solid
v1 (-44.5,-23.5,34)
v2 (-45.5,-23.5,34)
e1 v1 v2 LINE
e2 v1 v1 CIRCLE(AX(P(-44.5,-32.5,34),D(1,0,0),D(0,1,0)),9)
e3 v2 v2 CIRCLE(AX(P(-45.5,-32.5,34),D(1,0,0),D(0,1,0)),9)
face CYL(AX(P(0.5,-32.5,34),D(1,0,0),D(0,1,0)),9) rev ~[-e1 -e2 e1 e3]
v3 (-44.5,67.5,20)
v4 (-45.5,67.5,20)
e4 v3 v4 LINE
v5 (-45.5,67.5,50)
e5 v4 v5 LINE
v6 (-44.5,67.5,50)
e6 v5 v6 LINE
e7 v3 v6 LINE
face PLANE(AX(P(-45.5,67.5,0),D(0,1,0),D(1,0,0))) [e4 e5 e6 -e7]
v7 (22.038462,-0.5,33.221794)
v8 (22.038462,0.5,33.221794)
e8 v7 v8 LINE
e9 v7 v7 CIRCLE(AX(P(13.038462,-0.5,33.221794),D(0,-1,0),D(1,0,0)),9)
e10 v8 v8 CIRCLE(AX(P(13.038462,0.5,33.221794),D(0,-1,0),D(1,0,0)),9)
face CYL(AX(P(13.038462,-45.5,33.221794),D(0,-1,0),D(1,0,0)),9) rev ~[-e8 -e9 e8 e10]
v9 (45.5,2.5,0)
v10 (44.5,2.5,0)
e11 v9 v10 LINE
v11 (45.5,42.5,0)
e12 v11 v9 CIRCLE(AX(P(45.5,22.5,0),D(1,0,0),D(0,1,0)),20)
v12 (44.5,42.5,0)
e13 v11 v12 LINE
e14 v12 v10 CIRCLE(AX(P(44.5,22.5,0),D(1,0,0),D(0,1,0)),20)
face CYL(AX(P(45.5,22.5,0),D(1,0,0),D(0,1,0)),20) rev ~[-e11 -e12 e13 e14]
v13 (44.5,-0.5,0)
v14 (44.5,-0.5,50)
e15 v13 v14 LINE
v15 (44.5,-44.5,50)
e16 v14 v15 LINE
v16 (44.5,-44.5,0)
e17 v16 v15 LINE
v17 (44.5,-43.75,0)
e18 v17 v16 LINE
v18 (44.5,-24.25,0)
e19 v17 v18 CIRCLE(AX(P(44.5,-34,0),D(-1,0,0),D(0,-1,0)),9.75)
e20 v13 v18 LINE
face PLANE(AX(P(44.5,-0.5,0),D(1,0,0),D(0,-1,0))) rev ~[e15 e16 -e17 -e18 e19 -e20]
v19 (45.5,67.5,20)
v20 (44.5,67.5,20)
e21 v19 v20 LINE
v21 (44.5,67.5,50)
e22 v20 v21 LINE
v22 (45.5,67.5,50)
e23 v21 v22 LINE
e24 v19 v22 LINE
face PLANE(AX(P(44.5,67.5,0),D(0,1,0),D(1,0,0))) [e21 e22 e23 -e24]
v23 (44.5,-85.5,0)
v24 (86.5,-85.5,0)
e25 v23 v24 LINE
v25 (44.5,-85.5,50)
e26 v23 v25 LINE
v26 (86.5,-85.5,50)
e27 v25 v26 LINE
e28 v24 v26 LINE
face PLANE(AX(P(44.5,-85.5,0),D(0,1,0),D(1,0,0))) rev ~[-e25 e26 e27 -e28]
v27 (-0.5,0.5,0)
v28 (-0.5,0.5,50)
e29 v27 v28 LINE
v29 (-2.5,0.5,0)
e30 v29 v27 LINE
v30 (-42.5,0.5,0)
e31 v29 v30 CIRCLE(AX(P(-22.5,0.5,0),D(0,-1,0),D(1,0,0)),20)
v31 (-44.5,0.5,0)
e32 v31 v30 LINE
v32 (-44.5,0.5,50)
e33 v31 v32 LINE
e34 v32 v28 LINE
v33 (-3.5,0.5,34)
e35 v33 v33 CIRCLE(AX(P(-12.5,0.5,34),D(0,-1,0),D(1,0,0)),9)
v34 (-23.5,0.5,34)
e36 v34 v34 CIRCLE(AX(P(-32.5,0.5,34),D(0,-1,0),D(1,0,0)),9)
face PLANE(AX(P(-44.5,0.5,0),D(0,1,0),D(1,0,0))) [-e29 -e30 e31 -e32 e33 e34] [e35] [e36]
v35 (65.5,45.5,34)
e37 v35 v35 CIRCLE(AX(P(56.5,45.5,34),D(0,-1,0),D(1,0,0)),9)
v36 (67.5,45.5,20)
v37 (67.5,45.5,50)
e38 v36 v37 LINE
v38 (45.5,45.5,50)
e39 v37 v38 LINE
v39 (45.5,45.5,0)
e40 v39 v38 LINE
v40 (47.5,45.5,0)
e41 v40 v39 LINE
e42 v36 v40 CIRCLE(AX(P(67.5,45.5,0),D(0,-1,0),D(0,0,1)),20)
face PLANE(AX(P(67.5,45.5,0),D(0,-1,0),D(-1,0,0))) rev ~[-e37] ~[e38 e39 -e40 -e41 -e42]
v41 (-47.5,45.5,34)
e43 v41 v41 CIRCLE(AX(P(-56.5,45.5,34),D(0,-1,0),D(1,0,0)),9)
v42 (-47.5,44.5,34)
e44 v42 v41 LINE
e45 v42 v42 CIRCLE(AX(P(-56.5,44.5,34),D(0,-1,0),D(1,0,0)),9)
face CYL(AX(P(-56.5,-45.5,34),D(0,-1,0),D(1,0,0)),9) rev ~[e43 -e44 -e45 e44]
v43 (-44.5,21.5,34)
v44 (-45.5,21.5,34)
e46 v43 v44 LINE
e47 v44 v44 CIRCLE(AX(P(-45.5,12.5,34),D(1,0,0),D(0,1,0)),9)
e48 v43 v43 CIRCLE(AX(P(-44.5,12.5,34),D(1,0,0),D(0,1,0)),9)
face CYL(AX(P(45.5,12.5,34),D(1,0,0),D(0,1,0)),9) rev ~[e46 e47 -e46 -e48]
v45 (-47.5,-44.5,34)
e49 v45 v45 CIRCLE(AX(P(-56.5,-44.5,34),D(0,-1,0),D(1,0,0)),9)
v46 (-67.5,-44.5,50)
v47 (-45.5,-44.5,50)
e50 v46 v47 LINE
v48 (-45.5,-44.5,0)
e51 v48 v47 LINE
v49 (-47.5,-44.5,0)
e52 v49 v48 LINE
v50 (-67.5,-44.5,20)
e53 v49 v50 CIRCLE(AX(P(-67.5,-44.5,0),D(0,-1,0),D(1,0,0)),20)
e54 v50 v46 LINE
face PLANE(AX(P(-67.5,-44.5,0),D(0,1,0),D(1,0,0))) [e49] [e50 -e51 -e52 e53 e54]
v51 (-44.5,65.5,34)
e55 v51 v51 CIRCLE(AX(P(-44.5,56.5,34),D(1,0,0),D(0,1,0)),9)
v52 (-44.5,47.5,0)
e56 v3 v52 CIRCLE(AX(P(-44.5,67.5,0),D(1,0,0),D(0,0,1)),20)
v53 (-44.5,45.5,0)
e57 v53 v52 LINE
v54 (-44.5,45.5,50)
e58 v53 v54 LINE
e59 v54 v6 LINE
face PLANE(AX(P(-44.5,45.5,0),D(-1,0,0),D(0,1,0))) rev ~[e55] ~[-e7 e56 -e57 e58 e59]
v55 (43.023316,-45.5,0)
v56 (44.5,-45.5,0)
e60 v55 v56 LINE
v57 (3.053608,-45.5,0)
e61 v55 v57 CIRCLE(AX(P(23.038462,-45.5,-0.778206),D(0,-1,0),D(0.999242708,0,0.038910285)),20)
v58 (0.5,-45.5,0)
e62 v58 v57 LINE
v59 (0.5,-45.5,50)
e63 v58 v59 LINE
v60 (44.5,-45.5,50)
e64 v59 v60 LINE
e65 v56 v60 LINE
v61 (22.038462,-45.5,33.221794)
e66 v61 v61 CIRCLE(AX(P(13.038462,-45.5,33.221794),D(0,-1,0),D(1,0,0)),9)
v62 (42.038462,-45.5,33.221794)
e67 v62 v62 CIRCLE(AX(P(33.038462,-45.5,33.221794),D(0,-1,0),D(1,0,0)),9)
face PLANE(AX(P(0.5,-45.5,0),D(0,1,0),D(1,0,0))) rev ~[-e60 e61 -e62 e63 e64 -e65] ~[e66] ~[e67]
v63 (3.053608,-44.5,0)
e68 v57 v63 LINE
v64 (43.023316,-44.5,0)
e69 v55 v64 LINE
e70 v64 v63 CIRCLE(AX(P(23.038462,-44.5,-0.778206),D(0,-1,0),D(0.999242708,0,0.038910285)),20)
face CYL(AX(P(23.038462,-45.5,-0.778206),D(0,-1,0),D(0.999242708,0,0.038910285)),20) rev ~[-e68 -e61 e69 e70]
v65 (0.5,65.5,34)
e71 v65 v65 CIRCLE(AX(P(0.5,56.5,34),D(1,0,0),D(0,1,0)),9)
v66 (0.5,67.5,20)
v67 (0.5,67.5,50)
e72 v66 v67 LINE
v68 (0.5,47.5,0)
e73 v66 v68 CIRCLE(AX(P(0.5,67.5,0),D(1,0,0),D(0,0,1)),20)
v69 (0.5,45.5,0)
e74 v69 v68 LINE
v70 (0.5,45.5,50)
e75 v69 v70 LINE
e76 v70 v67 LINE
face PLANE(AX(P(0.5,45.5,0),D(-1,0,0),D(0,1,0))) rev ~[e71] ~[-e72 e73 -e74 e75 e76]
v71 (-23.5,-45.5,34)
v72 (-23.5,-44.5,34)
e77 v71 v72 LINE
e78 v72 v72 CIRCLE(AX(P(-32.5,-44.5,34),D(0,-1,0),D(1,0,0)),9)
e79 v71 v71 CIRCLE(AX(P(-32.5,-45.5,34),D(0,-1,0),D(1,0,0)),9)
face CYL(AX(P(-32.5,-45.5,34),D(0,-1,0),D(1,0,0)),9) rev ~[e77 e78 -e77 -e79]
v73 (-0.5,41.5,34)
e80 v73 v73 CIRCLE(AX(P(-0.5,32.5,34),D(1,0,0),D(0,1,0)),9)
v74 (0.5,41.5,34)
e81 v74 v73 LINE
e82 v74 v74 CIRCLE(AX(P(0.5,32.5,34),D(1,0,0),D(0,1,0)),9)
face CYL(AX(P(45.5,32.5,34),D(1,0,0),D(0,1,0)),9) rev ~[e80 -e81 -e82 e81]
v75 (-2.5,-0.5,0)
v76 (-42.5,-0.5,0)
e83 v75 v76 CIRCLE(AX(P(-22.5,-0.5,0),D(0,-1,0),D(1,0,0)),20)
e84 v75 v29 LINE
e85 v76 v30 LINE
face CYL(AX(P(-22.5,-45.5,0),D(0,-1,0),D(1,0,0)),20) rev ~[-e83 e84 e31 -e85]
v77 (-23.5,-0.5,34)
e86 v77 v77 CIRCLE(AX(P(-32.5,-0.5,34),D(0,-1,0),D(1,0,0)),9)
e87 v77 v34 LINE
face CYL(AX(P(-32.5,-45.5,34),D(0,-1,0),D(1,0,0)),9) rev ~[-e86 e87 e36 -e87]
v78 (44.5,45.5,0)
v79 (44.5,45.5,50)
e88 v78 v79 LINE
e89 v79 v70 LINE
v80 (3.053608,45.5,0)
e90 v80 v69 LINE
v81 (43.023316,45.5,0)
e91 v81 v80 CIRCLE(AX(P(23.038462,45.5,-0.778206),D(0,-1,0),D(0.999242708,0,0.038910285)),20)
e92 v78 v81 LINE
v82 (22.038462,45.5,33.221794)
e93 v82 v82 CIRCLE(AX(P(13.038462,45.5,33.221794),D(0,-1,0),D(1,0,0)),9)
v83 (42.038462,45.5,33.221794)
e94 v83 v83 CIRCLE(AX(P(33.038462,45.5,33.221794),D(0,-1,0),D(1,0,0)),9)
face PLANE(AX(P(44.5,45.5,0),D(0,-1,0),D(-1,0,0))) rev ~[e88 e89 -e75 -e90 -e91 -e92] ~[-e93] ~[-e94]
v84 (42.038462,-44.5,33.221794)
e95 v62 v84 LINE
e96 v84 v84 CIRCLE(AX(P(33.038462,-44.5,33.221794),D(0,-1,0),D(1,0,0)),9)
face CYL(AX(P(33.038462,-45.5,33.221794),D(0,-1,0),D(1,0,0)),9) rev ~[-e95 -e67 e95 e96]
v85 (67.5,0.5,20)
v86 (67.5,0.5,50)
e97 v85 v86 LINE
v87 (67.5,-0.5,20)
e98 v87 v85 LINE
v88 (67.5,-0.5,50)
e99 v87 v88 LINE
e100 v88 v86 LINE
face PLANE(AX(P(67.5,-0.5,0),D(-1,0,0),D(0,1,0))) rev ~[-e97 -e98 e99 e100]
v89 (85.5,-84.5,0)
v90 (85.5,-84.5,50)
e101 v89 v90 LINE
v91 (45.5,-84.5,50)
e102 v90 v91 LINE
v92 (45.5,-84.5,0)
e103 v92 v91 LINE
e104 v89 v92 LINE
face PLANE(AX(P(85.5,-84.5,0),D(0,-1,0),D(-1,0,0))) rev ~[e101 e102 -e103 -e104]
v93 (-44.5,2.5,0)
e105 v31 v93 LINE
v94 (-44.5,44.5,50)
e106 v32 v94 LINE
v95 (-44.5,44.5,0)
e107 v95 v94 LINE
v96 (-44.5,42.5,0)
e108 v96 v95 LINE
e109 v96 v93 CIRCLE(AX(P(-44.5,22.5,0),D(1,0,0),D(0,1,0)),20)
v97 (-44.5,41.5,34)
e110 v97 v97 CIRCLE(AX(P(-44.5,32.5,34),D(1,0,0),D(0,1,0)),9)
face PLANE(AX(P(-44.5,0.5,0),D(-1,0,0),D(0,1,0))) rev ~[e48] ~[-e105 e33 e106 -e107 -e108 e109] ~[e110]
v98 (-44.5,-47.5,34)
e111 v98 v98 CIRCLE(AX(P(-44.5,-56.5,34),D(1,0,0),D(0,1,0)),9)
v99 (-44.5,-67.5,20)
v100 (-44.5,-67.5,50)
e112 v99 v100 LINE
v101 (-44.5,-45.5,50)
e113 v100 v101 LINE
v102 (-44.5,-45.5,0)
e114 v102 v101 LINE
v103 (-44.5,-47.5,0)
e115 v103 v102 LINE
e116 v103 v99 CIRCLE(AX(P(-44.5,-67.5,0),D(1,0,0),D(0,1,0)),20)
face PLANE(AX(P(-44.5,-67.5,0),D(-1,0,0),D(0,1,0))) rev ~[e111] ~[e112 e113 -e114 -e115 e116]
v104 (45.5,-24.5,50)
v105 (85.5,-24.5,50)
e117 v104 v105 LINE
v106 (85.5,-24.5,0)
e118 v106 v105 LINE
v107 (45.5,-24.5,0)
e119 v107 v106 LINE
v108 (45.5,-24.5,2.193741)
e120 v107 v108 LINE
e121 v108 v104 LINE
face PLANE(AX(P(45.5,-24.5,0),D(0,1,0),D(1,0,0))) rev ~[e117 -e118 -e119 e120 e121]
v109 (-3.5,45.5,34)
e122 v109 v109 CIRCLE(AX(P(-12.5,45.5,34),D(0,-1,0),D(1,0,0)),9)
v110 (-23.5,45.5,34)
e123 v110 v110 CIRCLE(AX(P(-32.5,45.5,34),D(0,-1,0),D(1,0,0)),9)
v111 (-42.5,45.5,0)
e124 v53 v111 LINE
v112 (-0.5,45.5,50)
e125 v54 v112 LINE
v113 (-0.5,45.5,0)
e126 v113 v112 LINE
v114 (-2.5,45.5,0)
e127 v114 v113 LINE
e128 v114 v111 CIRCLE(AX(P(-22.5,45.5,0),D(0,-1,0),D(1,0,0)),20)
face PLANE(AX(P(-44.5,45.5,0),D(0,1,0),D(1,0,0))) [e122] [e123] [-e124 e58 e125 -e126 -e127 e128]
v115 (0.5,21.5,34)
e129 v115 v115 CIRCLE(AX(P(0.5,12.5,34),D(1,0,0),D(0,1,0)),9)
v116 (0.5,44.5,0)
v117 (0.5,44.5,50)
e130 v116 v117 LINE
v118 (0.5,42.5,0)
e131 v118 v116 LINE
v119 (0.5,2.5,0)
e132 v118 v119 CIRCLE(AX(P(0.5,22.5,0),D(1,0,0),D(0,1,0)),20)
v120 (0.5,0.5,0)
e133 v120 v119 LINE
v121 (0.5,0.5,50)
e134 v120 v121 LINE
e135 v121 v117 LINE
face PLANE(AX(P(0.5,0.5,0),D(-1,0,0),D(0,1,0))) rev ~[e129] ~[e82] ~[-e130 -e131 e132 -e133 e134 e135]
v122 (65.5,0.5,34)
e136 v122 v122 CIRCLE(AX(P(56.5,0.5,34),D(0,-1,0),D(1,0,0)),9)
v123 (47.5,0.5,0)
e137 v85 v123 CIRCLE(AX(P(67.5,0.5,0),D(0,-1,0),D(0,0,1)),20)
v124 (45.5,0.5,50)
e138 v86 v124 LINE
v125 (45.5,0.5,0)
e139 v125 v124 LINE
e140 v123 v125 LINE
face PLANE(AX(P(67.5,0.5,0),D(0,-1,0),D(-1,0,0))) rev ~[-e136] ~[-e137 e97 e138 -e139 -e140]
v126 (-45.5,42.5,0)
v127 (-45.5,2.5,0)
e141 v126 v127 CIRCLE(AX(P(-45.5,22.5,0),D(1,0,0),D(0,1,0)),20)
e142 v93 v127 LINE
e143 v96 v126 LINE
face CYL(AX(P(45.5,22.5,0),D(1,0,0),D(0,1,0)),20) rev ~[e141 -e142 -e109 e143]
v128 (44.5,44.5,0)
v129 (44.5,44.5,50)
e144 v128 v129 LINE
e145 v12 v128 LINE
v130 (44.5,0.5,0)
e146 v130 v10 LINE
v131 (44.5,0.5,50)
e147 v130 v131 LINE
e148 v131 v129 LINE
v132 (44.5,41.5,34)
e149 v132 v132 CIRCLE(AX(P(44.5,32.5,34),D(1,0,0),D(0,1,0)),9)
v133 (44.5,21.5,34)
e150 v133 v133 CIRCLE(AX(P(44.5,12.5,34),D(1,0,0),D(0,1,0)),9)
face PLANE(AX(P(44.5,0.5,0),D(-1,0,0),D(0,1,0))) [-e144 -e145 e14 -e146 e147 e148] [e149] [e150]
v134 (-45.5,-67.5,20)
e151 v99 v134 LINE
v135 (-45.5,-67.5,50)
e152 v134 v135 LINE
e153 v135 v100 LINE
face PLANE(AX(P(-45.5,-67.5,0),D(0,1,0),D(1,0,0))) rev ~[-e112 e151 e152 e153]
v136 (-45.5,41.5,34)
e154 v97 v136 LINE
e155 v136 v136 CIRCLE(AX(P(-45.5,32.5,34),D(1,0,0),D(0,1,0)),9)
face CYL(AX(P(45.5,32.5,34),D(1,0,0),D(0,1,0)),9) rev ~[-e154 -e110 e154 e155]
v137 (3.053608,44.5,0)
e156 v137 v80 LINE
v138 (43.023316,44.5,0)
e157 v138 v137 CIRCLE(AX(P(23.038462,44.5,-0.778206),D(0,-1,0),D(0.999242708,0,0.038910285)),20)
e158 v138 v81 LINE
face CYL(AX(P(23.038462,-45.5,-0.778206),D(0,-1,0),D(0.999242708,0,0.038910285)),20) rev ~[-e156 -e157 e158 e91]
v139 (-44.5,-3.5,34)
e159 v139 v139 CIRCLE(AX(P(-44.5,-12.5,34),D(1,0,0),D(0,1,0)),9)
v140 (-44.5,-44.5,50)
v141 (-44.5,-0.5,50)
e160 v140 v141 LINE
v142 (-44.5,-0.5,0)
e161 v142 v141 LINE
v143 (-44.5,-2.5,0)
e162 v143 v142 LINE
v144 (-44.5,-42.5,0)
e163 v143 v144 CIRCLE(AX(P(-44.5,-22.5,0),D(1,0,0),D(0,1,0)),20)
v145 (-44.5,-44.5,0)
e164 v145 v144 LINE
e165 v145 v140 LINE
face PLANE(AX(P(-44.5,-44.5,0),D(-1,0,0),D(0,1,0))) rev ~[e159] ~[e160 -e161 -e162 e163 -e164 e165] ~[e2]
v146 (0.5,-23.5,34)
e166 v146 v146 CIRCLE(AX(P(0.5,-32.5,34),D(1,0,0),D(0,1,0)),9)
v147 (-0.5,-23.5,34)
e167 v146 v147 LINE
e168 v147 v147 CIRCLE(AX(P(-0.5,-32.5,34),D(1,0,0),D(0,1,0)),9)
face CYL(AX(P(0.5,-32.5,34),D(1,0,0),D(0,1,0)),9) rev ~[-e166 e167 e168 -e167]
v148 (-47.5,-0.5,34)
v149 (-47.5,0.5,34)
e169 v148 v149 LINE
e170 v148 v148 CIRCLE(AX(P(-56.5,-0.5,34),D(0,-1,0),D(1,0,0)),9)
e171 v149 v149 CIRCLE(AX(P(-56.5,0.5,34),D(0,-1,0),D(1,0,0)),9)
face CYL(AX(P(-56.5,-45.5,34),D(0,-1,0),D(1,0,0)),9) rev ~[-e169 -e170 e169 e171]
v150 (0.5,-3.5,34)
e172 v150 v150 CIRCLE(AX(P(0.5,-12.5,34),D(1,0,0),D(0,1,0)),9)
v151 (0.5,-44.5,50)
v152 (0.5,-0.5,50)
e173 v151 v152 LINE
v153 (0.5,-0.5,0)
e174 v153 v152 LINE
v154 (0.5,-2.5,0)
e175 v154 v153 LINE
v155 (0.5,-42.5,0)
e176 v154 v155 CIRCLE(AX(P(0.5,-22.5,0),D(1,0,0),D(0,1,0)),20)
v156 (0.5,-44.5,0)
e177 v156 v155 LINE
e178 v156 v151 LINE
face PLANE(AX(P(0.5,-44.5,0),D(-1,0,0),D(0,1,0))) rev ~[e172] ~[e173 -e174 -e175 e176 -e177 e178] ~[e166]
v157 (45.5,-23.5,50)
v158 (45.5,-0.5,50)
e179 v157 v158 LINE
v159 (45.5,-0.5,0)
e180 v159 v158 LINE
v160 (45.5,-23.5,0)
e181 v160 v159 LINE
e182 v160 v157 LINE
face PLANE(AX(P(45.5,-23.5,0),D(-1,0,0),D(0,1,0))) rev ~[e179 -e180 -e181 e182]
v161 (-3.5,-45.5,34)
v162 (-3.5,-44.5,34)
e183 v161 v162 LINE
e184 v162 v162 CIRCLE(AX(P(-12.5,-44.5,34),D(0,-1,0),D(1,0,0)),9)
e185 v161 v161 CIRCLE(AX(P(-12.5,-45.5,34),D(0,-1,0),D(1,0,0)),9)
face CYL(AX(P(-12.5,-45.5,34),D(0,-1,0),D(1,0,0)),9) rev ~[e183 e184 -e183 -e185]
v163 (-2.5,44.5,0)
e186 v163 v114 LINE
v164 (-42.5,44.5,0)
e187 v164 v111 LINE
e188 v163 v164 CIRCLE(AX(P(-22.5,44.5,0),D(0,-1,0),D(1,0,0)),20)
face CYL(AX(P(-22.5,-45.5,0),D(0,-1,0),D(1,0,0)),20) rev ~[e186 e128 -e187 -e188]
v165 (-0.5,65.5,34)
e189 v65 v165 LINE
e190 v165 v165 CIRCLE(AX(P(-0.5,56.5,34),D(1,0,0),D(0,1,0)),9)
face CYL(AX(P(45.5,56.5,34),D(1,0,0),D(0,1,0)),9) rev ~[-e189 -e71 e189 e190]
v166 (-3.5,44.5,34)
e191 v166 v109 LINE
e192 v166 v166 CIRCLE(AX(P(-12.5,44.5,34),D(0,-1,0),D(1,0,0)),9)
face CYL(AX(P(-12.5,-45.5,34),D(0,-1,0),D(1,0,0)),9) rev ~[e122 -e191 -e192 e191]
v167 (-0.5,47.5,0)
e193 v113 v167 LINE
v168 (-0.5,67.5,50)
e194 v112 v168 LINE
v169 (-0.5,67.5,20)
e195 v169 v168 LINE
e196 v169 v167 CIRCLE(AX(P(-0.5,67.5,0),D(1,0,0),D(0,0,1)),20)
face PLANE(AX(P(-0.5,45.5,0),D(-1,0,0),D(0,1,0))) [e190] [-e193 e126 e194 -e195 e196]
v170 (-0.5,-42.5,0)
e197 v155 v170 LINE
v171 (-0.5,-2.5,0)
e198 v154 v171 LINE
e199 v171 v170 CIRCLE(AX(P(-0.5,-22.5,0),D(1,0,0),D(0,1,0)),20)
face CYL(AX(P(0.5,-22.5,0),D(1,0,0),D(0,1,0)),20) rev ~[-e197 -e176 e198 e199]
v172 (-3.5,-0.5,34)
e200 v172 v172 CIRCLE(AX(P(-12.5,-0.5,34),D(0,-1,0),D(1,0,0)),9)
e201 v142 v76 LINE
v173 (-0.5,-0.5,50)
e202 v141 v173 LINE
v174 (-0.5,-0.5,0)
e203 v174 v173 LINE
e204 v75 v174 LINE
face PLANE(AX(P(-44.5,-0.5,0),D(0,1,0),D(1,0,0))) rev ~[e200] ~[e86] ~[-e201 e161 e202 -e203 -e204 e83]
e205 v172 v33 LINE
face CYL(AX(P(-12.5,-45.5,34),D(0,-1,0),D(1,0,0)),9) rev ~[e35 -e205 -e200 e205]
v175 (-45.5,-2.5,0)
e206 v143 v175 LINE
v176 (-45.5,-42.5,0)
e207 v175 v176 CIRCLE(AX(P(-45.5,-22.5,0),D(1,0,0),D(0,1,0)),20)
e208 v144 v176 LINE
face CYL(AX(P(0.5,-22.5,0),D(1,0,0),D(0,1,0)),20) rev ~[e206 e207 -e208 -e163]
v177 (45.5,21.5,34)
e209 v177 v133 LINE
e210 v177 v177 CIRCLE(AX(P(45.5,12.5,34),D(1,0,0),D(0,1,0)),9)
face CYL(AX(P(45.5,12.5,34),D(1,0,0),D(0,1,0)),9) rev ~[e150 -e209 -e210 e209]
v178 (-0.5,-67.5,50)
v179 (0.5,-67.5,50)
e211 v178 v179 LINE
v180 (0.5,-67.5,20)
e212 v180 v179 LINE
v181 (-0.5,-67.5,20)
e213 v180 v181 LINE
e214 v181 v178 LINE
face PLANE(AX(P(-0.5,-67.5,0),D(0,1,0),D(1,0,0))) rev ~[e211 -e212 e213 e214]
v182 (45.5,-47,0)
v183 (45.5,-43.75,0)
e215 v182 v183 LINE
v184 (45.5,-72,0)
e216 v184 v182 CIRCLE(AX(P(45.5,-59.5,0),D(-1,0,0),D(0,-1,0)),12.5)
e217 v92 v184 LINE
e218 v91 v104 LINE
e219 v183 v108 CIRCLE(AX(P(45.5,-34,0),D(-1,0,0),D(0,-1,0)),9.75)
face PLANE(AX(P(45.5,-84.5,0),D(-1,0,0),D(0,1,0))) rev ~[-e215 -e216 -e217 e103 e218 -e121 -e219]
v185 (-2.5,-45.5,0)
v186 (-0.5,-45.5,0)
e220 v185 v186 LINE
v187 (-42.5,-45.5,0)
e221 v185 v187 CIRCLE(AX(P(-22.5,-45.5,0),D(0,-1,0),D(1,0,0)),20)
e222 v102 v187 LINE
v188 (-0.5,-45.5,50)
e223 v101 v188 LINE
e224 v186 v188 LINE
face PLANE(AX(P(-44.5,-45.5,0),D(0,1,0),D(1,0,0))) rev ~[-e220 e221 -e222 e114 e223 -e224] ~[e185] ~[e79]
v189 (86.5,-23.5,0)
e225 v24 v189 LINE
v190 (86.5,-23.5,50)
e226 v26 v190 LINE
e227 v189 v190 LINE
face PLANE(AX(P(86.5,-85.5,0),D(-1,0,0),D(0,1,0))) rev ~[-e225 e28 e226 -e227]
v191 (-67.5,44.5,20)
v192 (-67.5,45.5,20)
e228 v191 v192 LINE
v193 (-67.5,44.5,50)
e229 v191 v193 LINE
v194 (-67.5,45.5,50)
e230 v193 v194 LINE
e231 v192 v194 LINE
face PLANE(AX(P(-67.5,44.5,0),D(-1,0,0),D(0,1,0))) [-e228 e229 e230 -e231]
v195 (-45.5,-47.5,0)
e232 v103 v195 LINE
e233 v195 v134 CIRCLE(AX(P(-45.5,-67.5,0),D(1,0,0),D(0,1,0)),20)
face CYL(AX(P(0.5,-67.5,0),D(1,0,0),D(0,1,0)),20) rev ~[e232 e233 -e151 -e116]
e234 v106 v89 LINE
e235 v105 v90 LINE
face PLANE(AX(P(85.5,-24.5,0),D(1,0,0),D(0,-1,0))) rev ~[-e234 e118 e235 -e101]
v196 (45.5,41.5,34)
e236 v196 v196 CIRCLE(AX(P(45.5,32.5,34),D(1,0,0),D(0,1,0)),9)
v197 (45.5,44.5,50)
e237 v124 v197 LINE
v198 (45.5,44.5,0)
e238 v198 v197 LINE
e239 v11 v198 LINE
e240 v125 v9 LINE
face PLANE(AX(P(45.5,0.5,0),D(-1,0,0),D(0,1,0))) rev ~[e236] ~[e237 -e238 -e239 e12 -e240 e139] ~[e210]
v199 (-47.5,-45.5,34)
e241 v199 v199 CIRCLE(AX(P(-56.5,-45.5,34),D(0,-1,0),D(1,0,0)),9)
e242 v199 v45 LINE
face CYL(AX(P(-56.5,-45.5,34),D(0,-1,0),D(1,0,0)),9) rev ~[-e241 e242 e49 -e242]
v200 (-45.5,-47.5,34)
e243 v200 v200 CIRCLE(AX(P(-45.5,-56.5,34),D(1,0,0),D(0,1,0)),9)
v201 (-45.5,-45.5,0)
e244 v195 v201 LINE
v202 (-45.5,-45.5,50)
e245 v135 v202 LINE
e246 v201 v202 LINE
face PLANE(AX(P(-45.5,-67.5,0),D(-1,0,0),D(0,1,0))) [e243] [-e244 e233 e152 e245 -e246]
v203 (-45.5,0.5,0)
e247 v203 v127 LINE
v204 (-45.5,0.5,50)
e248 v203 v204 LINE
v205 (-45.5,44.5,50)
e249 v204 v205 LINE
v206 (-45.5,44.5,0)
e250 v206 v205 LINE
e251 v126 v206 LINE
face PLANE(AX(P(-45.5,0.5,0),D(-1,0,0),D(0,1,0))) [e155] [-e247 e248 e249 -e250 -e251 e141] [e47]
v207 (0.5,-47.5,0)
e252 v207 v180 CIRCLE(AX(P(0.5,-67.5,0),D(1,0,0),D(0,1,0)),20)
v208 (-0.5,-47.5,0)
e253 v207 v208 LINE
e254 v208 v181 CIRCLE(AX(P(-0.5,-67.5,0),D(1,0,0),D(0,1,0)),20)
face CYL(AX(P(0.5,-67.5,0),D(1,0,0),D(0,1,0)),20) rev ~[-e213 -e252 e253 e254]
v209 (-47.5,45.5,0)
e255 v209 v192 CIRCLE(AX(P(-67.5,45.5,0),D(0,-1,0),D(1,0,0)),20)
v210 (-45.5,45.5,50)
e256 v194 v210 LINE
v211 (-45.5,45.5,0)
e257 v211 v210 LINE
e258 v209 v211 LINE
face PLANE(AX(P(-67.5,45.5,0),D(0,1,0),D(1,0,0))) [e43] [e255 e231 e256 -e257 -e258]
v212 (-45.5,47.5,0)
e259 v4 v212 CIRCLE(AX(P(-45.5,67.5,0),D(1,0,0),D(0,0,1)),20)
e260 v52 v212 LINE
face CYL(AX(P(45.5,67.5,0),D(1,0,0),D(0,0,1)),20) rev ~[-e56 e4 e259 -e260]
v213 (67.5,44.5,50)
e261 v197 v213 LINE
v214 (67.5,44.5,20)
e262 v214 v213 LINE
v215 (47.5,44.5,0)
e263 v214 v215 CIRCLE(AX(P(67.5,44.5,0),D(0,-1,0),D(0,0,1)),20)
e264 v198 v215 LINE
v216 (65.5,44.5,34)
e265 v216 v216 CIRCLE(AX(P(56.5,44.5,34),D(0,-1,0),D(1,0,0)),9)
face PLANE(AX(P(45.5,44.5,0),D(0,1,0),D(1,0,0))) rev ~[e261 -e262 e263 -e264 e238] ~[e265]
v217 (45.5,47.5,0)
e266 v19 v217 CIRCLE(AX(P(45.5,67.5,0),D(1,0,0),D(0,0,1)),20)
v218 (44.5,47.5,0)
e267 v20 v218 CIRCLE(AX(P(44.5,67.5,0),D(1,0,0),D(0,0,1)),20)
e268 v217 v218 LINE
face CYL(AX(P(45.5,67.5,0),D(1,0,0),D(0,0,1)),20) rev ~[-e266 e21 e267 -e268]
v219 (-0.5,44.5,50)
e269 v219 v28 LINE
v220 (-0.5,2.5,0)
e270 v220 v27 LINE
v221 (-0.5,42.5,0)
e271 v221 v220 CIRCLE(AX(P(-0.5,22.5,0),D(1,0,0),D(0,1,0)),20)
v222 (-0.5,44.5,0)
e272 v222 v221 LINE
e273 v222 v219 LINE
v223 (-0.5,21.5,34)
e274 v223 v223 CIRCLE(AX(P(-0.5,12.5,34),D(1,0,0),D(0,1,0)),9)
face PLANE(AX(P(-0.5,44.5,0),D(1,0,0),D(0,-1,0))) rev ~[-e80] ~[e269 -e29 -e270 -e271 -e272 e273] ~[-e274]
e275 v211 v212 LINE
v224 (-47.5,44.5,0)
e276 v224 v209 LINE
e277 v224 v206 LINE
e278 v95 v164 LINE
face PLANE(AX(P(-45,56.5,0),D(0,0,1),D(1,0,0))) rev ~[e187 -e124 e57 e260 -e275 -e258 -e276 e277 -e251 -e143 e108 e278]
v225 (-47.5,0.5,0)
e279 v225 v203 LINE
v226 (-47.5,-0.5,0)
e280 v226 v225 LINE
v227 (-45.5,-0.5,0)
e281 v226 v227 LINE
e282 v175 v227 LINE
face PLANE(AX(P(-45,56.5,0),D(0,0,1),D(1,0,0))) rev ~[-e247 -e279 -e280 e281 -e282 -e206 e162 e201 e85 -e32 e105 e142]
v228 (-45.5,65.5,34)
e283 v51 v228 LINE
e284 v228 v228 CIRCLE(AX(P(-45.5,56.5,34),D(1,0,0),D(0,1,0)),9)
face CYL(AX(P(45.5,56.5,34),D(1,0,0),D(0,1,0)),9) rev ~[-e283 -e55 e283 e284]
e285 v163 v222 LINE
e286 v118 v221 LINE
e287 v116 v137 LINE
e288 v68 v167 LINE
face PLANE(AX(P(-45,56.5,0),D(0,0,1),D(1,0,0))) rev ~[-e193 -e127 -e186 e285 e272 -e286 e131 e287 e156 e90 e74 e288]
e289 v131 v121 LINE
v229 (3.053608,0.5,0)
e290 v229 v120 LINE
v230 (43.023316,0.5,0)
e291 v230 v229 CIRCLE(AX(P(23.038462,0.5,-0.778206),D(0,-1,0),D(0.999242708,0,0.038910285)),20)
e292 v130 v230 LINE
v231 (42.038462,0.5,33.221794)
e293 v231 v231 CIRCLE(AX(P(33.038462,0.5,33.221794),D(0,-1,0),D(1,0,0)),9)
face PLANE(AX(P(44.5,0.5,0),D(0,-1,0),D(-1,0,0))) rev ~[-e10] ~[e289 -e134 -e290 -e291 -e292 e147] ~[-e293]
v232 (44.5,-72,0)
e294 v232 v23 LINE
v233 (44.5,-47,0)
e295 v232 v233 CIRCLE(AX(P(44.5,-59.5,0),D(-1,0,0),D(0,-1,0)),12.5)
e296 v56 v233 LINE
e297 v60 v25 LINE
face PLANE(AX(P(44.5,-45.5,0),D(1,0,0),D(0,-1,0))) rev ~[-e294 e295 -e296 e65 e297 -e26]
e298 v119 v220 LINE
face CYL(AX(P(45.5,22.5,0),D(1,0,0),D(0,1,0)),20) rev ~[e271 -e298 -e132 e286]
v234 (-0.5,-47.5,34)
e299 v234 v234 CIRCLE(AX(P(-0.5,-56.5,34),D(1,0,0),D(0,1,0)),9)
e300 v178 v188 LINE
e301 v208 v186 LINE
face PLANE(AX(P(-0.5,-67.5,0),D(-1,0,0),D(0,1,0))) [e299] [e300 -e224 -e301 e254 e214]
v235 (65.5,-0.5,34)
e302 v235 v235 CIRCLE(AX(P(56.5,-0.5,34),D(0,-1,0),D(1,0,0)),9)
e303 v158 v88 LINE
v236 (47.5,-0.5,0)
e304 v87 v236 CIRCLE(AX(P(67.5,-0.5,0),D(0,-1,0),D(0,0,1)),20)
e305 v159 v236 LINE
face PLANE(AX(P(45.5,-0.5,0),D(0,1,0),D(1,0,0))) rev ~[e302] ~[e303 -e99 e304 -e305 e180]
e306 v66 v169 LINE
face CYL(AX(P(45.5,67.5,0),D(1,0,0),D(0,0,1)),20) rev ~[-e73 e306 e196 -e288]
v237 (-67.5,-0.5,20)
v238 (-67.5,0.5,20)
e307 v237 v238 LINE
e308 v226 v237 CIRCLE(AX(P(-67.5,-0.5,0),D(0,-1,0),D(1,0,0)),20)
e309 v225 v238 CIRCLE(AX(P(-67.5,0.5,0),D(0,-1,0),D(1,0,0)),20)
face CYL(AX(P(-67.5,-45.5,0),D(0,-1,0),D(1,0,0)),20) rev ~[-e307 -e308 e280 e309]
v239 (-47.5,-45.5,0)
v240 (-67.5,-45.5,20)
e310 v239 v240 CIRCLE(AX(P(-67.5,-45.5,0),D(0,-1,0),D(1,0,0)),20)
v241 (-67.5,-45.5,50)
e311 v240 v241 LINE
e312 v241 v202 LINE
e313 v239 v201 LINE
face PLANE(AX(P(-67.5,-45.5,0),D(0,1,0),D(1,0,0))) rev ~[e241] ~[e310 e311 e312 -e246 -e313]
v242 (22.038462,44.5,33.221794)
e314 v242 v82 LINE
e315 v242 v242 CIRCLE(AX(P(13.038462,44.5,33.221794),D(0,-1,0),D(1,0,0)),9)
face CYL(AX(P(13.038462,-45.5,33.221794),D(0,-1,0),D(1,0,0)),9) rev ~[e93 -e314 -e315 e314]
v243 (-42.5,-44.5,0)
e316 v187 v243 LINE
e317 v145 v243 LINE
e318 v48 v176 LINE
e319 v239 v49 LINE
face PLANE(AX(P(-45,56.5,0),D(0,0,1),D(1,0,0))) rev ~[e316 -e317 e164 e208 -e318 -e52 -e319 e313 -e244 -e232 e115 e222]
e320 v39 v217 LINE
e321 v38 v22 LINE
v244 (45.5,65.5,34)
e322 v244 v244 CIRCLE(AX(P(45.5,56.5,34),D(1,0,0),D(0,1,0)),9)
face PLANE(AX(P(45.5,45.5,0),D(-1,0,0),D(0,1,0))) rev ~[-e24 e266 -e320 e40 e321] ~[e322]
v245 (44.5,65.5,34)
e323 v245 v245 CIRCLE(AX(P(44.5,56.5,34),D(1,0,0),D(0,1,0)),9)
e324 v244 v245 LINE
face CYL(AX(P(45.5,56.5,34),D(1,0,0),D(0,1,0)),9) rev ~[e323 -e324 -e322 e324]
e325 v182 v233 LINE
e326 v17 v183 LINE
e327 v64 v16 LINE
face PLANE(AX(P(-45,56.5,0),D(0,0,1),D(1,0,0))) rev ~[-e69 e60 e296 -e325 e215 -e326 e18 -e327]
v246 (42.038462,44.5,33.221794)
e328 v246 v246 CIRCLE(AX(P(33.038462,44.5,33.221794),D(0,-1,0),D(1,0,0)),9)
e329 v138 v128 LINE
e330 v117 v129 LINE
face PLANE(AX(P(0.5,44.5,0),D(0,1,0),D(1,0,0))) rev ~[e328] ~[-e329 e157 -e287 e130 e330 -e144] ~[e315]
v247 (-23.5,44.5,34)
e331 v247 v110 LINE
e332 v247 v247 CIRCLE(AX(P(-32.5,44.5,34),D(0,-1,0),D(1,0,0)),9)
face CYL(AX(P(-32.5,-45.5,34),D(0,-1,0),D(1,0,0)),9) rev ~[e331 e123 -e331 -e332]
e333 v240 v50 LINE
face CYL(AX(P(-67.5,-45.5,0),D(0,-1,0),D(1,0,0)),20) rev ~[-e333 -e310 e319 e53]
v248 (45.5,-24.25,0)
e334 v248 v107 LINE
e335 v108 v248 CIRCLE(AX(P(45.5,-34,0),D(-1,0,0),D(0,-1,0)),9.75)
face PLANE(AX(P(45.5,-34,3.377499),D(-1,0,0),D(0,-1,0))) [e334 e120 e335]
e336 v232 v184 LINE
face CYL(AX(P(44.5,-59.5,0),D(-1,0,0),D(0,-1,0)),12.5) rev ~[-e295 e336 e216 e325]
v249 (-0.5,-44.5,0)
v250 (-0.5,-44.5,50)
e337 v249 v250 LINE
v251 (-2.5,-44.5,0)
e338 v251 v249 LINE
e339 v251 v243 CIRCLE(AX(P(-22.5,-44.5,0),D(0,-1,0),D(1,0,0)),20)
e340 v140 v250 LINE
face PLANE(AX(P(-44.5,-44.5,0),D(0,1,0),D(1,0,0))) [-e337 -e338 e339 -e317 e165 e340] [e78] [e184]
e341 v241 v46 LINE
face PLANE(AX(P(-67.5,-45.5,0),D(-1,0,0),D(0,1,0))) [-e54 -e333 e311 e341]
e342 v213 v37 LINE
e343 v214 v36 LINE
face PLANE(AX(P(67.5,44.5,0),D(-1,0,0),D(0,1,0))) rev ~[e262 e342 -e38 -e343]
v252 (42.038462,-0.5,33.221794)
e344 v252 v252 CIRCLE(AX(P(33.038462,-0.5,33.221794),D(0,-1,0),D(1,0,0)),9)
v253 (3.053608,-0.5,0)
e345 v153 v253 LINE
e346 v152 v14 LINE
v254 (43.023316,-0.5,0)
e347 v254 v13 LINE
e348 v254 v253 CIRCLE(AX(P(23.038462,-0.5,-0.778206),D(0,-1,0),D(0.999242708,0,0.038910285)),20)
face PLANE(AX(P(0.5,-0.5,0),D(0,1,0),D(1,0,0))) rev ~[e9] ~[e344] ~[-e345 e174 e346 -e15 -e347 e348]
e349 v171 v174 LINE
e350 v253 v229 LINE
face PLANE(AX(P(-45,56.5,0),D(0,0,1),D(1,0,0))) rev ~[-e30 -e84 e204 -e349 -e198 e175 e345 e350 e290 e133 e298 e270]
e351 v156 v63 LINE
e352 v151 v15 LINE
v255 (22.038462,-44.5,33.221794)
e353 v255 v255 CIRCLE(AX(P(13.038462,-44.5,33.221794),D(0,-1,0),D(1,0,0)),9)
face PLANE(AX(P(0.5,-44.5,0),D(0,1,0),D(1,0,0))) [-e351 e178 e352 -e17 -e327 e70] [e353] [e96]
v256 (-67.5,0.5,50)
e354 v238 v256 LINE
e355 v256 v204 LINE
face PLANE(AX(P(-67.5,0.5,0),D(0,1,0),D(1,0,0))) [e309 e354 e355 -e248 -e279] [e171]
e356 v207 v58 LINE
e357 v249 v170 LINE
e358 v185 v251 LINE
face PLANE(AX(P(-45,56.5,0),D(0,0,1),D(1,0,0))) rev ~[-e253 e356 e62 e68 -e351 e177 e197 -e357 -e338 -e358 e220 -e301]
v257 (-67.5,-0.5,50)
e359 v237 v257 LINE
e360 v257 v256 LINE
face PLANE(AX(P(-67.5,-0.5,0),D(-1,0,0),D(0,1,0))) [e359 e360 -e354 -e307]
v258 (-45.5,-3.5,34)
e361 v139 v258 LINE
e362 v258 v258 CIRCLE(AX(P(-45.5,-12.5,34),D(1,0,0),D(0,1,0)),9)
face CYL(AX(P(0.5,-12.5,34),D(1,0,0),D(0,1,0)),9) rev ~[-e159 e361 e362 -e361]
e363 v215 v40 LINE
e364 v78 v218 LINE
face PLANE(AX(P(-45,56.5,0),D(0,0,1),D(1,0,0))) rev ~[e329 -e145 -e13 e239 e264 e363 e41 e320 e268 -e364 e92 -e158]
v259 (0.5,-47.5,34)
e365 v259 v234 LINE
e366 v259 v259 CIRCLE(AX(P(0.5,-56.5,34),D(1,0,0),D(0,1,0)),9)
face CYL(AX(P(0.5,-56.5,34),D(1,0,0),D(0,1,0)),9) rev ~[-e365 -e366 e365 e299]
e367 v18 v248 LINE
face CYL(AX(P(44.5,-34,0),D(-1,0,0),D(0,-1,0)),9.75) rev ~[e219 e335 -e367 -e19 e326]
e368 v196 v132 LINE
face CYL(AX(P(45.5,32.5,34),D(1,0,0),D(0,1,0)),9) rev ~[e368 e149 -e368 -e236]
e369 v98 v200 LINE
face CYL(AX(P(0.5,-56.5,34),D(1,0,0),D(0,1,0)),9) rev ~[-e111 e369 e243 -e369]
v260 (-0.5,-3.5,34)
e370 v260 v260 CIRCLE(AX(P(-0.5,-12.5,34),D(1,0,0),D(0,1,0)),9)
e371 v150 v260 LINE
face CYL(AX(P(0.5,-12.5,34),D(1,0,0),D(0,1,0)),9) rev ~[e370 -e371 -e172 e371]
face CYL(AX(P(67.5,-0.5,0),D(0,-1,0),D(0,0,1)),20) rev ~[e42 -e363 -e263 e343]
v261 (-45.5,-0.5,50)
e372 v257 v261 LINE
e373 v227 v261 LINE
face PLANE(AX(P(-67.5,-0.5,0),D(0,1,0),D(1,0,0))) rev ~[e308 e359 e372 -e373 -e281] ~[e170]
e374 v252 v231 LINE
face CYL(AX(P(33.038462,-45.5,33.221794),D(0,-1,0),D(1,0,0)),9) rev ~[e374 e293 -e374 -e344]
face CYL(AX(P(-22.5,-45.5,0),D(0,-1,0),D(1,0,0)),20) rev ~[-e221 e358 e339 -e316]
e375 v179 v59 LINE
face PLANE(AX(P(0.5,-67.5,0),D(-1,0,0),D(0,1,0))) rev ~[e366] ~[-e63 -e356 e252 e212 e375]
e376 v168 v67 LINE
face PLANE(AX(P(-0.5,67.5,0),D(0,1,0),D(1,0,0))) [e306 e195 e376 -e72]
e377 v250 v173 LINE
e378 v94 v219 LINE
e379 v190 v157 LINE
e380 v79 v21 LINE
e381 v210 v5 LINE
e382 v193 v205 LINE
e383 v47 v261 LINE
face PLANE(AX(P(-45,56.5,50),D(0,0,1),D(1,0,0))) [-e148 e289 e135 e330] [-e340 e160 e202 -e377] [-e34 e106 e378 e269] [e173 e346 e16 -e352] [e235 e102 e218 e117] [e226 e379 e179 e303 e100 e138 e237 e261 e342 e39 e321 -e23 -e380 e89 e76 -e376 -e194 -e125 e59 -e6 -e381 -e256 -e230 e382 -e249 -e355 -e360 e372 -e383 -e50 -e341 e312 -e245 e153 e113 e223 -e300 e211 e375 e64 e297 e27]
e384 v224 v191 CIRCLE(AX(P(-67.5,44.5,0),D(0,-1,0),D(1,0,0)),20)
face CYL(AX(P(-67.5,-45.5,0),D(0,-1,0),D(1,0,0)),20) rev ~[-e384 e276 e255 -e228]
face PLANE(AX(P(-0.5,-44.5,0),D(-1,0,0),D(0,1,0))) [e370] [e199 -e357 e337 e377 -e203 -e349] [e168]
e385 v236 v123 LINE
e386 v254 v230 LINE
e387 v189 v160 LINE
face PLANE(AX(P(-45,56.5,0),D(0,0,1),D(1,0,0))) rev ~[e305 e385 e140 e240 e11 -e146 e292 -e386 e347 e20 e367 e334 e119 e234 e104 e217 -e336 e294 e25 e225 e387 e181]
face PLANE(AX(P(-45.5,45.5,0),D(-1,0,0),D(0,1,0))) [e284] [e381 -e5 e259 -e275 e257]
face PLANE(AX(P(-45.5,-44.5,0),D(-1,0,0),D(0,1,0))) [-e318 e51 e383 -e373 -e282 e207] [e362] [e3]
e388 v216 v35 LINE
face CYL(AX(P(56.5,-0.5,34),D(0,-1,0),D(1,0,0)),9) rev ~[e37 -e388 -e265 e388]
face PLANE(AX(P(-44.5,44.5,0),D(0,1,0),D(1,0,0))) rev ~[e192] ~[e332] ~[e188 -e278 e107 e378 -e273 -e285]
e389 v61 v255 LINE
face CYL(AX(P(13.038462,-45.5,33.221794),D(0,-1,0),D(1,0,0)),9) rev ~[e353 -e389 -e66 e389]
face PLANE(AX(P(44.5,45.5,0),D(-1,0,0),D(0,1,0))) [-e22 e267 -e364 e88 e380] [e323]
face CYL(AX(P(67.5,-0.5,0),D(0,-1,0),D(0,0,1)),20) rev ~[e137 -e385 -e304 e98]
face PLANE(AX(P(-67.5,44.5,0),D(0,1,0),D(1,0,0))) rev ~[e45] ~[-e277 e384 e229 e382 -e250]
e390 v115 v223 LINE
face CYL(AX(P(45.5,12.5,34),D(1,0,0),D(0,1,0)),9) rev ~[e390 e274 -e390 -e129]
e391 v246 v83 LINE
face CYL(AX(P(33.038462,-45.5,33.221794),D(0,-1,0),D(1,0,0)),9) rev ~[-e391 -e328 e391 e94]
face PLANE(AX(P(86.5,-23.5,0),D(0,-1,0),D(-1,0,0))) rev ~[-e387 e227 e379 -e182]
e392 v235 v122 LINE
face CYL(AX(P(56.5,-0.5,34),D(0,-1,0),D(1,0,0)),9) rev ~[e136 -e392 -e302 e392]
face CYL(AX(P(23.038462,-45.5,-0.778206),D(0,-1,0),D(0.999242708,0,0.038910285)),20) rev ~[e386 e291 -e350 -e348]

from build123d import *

# Parameters (mm, degrees)
F0_W      = 1
F0_H      = 22
F0_W_2    = 22
F0_H_2    = 1
F0_W_3    = 44
F0_H_3    = 44
F0_H_4    = 23
F1_DEPTH  = 50
F2_R      = 9
F3_DEPTH  = 500
F4_R      = 9
F5_DEPTH  = 500
F6_R      = 9
F7_DEPTH  = 500
F8_R      = 9
F9_DEPTH  = 500
F10_R     = 9
F11_DEPTH = 500
F12_R     = 9
F13_DEPTH = 500
F14_R     = 9
F15_DEPTH = 500
F16_R     = 9
F17_DEPTH = 400
F18_R     = 12.5
F19_DEPTH = 1


with BuildPart() as f1:
    # F0 (on Top) → F1 (new body)
    with BuildSketch(Plane.XY):
        with Locations((-45, 56.5)):
            Rectangle(F0_W, F0_H)
        with Locations((-56.5, 45)):
            Rectangle(F0_W_2, F0_H_2)
        with Locations((-22.5, 45)):
            Rectangle(F0_W_3, F0_H_2)
        with Locations((-45, 22.5)):
            Rectangle(F0_W, F0_H_3)
        with Locations((-45, 45)):
            Rectangle(F0_W, F0_H_2)
        with Locations((0, 56.5)):
            Rectangle(F0_W, F0_H)
        Polygon((0.5, 45.5), (0.5, 44.5), (44.5, 44.5), (45.5, 44.5), (67.5, 44.5), (67.5, 45.5), (45.5, 45.5), (44.5, 45.5), align=None)
        with Locations((45, 56.5)):
            Rectangle(F0_W, F0_H)
        with Locations((0, 45)):
            Rectangle(F0_W, F0_H_2)
        with Locations((0, 22.5)):
            Rectangle(F0_W, F0_H_3)
        with Locations((45, 22.5)):
            Rectangle(F0_W, F0_H_3)
        Polygon((0.5, 0.5), (0.5, -0.5), (44.5, -0.5), (45.5, -0.5), (67.5, -0.5), (67.5, 0.5), (45.5, 0.5), (44.5, 0.5), align=None)
        with Locations((45, -12)):
            Rectangle(F0_W, F0_H_4)
        Rectangle(F0_W, F0_H_2)
        with Locations((-22.5, 0)):
            Rectangle(F0_W_3, F0_H_2)
        with Locations((0, -22.5)):
            Rectangle(F0_W, F0_H_3)
        with Locations((-56.5, 0)):
            Rectangle(F0_W_2, F0_H_2)
        with Locations((-45, -22.5)):
            Rectangle(F0_W, F0_H_3)
        with Locations((-45, 0)):
            Rectangle(F0_W, F0_H_2)
        with Locations((-56.5, -45)):
            Rectangle(F0_W_2, F0_H_2)
        with Locations((-45, -56.5)):
            Rectangle(F0_W, F0_H)
        with Locations((-45, -45)):
            Rectangle(F0_W, F0_H_2)
        with Locations((-22.5, -45)):
            Rectangle(F0_W_3, F0_H_2)
        with Locations((0, -56.5)):
            Rectangle(F0_W, F0_H)
        with Locations((22.5, -45)):
            Rectangle(F0_W_3, F0_H_2)
        with Locations((0, -45)):
            Rectangle(F0_W, F0_H_2)
        Polygon((44.5, -44.5), (44.5, -45.5), (44.5, -85.5), (86.5, -85.5), (86.5, -23.5), (45.5, -23.5), (44.5, -23.5), align=None)
        Polygon((45.5, -45.4983576005), (45.5, -44.4983576005), (45.5, -24.5), (85.5, -24.5), (85.5, -84.5), (45.5, -84.5), align=None, mode=Mode.SUBTRACT)
    extrude(amount=F1_DEPTH)

    # F2 (on face) → F3 (cut)
    with BuildSketch(Plane.XZ.offset(45.5)):
        with Locations((-32.5, 34)):
            Circle(F2_R)
        with Locations((-12.5, 34)):
            Circle(F2_R)
        with BuildLine():
            Line((-42.5, 0), (-2.5, 0))
            ThreePointArc((-2.5, 0), (-22.5, 20), (-42.5, 0))
        make_face()
    extrude(amount=-F3_DEPTH, mode=Mode.SUBTRACT)

    # F4 (on face) → F5 (cut)
    with BuildSketch(Plane.XZ.offset(45.5)):
        with Locations((13.0384618044, 33.2217942973)):
            Circle(F4_R)
        with Locations((33.0384618044, 33.2217942973)):
            Circle(F4_R)
        with BuildLine():
            Line((3.0536076422, 0), (43.0233159666, 0))
            ThreePointArc((43.0233159666, 0), (23.0384618044, 19.2217942973), (3.0536076422, 0))
        make_face()
    extrude(amount=-F5_DEPTH, mode=Mode.SUBTRACT)

    # F6 (on face) → F7 (cut)
    with BuildSketch(Plane.XZ.offset(45.5)):
        with Locations((-56.5, 34)):
            Circle(F6_R)
        with BuildLine():
            ThreePointArc((-67.5, 20), (-81.6421356237, -14.1421356237), (-47.5, 0))
            ThreePointArc((-47.5, 0), (-53.3578643763, 14.1421356237), (-67.5, 20))
        make_face()
    extrude(amount=-F7_DEPTH, mode=Mode.SUBTRACT)

    # F8 (on face) → F9 (cut)
    with BuildSketch(Plane.YZ.offset(0.5)):
        with Locations((-12.5, 34)):
            Circle(F8_R)
        with BuildLine():
            Line((-42.5, 0), (-2.5, 0))
            ThreePointArc((-2.5, 0), (-22.5, 20), (-42.5, 0))
        make_face()
        with Locations((-32.5, 34)):
            Circle(F8_R)
    extrude(amount=-F9_DEPTH, mode=Mode.SUBTRACT)

    # F10 (on face) → F11 (cut)
    with BuildSketch(Plane.YZ.offset(0.5)):
        with Locations((-56.5, 34)):
            Circle(F10_R)
        with BuildLine():
            Line((-67.5, 0), (-47.5, 0))
            ThreePointArc((-47.5, 0), (-53.3578643763, 14.1421356237), (-67.5, 20))
            Line((-67.5, 20), (-67.5, 0))
        make_face()
    extrude(amount=-F11_DEPTH, mode=Mode.SUBTRACT)

    # F12 (on face) → F13 (cut)
    with BuildSketch(Plane.YZ.offset(45.5)):
        with Locations((12.5, 34)):
            Circle(F12_R)
        with Locations((32.5, 34)):
            Circle(F12_R)
        with BuildLine():
            Line((2.5, 0), (42.5, 0))
            ThreePointArc((42.5, 0), (22.5, 20), (2.5, 0))
        make_face()
    extrude(amount=-F13_DEPTH, mode=Mode.SUBTRACT)

    # F14 (on face) → F15 (cut)
    with BuildSketch(Plane.YZ.offset(45.5)):
        with BuildLine():
            Line((67.5, 0), (67.5, 20))
            ThreePointArc((67.5, 20), (53.3578643763, 14.1421356237), (47.5, 0))
            Line((47.5, 0), (67.5, 0))
        make_face()
        with Locations((56.5, 34)):
            Circle(F14_R)
    extrude(amount=-F15_DEPTH, mode=Mode.SUBTRACT)

    # F16 (on face) → F17 (cut)
    with BuildSketch(Plane.XZ.offset(0.5)):
        with Locations((56.5, 34)):
            Circle(F16_R)
        with BuildLine():
            Line((67.5, 0), (67.5, 20))
            ThreePointArc((67.5, 20), (53.3578643763, 14.1421356237), (47.5, 0))
            Line((47.5, 0), (67.5, 0))
        make_face()
    extrude(amount=-F17_DEPTH, mode=Mode.SUBTRACT)

    # F18 (on face) → F19 (cut)
    with BuildSketch(Plane(origin=(44.5, 0, 0), x_dir=(0, -1, 0), z_dir=(-1, 0, 0))):
        with BuildLine():
            Line((24.25, 0), (43.75, 0))
            ThreePointArc((43.75, 0), (34, 9.75), (24.25, 0))
        make_face()
        with Locations((59.5, 0)):
            Circle(F18_R)
    extrude(amount=-F19_DEPTH, mode=Mode.SUBTRACT)


solid = f1.part
